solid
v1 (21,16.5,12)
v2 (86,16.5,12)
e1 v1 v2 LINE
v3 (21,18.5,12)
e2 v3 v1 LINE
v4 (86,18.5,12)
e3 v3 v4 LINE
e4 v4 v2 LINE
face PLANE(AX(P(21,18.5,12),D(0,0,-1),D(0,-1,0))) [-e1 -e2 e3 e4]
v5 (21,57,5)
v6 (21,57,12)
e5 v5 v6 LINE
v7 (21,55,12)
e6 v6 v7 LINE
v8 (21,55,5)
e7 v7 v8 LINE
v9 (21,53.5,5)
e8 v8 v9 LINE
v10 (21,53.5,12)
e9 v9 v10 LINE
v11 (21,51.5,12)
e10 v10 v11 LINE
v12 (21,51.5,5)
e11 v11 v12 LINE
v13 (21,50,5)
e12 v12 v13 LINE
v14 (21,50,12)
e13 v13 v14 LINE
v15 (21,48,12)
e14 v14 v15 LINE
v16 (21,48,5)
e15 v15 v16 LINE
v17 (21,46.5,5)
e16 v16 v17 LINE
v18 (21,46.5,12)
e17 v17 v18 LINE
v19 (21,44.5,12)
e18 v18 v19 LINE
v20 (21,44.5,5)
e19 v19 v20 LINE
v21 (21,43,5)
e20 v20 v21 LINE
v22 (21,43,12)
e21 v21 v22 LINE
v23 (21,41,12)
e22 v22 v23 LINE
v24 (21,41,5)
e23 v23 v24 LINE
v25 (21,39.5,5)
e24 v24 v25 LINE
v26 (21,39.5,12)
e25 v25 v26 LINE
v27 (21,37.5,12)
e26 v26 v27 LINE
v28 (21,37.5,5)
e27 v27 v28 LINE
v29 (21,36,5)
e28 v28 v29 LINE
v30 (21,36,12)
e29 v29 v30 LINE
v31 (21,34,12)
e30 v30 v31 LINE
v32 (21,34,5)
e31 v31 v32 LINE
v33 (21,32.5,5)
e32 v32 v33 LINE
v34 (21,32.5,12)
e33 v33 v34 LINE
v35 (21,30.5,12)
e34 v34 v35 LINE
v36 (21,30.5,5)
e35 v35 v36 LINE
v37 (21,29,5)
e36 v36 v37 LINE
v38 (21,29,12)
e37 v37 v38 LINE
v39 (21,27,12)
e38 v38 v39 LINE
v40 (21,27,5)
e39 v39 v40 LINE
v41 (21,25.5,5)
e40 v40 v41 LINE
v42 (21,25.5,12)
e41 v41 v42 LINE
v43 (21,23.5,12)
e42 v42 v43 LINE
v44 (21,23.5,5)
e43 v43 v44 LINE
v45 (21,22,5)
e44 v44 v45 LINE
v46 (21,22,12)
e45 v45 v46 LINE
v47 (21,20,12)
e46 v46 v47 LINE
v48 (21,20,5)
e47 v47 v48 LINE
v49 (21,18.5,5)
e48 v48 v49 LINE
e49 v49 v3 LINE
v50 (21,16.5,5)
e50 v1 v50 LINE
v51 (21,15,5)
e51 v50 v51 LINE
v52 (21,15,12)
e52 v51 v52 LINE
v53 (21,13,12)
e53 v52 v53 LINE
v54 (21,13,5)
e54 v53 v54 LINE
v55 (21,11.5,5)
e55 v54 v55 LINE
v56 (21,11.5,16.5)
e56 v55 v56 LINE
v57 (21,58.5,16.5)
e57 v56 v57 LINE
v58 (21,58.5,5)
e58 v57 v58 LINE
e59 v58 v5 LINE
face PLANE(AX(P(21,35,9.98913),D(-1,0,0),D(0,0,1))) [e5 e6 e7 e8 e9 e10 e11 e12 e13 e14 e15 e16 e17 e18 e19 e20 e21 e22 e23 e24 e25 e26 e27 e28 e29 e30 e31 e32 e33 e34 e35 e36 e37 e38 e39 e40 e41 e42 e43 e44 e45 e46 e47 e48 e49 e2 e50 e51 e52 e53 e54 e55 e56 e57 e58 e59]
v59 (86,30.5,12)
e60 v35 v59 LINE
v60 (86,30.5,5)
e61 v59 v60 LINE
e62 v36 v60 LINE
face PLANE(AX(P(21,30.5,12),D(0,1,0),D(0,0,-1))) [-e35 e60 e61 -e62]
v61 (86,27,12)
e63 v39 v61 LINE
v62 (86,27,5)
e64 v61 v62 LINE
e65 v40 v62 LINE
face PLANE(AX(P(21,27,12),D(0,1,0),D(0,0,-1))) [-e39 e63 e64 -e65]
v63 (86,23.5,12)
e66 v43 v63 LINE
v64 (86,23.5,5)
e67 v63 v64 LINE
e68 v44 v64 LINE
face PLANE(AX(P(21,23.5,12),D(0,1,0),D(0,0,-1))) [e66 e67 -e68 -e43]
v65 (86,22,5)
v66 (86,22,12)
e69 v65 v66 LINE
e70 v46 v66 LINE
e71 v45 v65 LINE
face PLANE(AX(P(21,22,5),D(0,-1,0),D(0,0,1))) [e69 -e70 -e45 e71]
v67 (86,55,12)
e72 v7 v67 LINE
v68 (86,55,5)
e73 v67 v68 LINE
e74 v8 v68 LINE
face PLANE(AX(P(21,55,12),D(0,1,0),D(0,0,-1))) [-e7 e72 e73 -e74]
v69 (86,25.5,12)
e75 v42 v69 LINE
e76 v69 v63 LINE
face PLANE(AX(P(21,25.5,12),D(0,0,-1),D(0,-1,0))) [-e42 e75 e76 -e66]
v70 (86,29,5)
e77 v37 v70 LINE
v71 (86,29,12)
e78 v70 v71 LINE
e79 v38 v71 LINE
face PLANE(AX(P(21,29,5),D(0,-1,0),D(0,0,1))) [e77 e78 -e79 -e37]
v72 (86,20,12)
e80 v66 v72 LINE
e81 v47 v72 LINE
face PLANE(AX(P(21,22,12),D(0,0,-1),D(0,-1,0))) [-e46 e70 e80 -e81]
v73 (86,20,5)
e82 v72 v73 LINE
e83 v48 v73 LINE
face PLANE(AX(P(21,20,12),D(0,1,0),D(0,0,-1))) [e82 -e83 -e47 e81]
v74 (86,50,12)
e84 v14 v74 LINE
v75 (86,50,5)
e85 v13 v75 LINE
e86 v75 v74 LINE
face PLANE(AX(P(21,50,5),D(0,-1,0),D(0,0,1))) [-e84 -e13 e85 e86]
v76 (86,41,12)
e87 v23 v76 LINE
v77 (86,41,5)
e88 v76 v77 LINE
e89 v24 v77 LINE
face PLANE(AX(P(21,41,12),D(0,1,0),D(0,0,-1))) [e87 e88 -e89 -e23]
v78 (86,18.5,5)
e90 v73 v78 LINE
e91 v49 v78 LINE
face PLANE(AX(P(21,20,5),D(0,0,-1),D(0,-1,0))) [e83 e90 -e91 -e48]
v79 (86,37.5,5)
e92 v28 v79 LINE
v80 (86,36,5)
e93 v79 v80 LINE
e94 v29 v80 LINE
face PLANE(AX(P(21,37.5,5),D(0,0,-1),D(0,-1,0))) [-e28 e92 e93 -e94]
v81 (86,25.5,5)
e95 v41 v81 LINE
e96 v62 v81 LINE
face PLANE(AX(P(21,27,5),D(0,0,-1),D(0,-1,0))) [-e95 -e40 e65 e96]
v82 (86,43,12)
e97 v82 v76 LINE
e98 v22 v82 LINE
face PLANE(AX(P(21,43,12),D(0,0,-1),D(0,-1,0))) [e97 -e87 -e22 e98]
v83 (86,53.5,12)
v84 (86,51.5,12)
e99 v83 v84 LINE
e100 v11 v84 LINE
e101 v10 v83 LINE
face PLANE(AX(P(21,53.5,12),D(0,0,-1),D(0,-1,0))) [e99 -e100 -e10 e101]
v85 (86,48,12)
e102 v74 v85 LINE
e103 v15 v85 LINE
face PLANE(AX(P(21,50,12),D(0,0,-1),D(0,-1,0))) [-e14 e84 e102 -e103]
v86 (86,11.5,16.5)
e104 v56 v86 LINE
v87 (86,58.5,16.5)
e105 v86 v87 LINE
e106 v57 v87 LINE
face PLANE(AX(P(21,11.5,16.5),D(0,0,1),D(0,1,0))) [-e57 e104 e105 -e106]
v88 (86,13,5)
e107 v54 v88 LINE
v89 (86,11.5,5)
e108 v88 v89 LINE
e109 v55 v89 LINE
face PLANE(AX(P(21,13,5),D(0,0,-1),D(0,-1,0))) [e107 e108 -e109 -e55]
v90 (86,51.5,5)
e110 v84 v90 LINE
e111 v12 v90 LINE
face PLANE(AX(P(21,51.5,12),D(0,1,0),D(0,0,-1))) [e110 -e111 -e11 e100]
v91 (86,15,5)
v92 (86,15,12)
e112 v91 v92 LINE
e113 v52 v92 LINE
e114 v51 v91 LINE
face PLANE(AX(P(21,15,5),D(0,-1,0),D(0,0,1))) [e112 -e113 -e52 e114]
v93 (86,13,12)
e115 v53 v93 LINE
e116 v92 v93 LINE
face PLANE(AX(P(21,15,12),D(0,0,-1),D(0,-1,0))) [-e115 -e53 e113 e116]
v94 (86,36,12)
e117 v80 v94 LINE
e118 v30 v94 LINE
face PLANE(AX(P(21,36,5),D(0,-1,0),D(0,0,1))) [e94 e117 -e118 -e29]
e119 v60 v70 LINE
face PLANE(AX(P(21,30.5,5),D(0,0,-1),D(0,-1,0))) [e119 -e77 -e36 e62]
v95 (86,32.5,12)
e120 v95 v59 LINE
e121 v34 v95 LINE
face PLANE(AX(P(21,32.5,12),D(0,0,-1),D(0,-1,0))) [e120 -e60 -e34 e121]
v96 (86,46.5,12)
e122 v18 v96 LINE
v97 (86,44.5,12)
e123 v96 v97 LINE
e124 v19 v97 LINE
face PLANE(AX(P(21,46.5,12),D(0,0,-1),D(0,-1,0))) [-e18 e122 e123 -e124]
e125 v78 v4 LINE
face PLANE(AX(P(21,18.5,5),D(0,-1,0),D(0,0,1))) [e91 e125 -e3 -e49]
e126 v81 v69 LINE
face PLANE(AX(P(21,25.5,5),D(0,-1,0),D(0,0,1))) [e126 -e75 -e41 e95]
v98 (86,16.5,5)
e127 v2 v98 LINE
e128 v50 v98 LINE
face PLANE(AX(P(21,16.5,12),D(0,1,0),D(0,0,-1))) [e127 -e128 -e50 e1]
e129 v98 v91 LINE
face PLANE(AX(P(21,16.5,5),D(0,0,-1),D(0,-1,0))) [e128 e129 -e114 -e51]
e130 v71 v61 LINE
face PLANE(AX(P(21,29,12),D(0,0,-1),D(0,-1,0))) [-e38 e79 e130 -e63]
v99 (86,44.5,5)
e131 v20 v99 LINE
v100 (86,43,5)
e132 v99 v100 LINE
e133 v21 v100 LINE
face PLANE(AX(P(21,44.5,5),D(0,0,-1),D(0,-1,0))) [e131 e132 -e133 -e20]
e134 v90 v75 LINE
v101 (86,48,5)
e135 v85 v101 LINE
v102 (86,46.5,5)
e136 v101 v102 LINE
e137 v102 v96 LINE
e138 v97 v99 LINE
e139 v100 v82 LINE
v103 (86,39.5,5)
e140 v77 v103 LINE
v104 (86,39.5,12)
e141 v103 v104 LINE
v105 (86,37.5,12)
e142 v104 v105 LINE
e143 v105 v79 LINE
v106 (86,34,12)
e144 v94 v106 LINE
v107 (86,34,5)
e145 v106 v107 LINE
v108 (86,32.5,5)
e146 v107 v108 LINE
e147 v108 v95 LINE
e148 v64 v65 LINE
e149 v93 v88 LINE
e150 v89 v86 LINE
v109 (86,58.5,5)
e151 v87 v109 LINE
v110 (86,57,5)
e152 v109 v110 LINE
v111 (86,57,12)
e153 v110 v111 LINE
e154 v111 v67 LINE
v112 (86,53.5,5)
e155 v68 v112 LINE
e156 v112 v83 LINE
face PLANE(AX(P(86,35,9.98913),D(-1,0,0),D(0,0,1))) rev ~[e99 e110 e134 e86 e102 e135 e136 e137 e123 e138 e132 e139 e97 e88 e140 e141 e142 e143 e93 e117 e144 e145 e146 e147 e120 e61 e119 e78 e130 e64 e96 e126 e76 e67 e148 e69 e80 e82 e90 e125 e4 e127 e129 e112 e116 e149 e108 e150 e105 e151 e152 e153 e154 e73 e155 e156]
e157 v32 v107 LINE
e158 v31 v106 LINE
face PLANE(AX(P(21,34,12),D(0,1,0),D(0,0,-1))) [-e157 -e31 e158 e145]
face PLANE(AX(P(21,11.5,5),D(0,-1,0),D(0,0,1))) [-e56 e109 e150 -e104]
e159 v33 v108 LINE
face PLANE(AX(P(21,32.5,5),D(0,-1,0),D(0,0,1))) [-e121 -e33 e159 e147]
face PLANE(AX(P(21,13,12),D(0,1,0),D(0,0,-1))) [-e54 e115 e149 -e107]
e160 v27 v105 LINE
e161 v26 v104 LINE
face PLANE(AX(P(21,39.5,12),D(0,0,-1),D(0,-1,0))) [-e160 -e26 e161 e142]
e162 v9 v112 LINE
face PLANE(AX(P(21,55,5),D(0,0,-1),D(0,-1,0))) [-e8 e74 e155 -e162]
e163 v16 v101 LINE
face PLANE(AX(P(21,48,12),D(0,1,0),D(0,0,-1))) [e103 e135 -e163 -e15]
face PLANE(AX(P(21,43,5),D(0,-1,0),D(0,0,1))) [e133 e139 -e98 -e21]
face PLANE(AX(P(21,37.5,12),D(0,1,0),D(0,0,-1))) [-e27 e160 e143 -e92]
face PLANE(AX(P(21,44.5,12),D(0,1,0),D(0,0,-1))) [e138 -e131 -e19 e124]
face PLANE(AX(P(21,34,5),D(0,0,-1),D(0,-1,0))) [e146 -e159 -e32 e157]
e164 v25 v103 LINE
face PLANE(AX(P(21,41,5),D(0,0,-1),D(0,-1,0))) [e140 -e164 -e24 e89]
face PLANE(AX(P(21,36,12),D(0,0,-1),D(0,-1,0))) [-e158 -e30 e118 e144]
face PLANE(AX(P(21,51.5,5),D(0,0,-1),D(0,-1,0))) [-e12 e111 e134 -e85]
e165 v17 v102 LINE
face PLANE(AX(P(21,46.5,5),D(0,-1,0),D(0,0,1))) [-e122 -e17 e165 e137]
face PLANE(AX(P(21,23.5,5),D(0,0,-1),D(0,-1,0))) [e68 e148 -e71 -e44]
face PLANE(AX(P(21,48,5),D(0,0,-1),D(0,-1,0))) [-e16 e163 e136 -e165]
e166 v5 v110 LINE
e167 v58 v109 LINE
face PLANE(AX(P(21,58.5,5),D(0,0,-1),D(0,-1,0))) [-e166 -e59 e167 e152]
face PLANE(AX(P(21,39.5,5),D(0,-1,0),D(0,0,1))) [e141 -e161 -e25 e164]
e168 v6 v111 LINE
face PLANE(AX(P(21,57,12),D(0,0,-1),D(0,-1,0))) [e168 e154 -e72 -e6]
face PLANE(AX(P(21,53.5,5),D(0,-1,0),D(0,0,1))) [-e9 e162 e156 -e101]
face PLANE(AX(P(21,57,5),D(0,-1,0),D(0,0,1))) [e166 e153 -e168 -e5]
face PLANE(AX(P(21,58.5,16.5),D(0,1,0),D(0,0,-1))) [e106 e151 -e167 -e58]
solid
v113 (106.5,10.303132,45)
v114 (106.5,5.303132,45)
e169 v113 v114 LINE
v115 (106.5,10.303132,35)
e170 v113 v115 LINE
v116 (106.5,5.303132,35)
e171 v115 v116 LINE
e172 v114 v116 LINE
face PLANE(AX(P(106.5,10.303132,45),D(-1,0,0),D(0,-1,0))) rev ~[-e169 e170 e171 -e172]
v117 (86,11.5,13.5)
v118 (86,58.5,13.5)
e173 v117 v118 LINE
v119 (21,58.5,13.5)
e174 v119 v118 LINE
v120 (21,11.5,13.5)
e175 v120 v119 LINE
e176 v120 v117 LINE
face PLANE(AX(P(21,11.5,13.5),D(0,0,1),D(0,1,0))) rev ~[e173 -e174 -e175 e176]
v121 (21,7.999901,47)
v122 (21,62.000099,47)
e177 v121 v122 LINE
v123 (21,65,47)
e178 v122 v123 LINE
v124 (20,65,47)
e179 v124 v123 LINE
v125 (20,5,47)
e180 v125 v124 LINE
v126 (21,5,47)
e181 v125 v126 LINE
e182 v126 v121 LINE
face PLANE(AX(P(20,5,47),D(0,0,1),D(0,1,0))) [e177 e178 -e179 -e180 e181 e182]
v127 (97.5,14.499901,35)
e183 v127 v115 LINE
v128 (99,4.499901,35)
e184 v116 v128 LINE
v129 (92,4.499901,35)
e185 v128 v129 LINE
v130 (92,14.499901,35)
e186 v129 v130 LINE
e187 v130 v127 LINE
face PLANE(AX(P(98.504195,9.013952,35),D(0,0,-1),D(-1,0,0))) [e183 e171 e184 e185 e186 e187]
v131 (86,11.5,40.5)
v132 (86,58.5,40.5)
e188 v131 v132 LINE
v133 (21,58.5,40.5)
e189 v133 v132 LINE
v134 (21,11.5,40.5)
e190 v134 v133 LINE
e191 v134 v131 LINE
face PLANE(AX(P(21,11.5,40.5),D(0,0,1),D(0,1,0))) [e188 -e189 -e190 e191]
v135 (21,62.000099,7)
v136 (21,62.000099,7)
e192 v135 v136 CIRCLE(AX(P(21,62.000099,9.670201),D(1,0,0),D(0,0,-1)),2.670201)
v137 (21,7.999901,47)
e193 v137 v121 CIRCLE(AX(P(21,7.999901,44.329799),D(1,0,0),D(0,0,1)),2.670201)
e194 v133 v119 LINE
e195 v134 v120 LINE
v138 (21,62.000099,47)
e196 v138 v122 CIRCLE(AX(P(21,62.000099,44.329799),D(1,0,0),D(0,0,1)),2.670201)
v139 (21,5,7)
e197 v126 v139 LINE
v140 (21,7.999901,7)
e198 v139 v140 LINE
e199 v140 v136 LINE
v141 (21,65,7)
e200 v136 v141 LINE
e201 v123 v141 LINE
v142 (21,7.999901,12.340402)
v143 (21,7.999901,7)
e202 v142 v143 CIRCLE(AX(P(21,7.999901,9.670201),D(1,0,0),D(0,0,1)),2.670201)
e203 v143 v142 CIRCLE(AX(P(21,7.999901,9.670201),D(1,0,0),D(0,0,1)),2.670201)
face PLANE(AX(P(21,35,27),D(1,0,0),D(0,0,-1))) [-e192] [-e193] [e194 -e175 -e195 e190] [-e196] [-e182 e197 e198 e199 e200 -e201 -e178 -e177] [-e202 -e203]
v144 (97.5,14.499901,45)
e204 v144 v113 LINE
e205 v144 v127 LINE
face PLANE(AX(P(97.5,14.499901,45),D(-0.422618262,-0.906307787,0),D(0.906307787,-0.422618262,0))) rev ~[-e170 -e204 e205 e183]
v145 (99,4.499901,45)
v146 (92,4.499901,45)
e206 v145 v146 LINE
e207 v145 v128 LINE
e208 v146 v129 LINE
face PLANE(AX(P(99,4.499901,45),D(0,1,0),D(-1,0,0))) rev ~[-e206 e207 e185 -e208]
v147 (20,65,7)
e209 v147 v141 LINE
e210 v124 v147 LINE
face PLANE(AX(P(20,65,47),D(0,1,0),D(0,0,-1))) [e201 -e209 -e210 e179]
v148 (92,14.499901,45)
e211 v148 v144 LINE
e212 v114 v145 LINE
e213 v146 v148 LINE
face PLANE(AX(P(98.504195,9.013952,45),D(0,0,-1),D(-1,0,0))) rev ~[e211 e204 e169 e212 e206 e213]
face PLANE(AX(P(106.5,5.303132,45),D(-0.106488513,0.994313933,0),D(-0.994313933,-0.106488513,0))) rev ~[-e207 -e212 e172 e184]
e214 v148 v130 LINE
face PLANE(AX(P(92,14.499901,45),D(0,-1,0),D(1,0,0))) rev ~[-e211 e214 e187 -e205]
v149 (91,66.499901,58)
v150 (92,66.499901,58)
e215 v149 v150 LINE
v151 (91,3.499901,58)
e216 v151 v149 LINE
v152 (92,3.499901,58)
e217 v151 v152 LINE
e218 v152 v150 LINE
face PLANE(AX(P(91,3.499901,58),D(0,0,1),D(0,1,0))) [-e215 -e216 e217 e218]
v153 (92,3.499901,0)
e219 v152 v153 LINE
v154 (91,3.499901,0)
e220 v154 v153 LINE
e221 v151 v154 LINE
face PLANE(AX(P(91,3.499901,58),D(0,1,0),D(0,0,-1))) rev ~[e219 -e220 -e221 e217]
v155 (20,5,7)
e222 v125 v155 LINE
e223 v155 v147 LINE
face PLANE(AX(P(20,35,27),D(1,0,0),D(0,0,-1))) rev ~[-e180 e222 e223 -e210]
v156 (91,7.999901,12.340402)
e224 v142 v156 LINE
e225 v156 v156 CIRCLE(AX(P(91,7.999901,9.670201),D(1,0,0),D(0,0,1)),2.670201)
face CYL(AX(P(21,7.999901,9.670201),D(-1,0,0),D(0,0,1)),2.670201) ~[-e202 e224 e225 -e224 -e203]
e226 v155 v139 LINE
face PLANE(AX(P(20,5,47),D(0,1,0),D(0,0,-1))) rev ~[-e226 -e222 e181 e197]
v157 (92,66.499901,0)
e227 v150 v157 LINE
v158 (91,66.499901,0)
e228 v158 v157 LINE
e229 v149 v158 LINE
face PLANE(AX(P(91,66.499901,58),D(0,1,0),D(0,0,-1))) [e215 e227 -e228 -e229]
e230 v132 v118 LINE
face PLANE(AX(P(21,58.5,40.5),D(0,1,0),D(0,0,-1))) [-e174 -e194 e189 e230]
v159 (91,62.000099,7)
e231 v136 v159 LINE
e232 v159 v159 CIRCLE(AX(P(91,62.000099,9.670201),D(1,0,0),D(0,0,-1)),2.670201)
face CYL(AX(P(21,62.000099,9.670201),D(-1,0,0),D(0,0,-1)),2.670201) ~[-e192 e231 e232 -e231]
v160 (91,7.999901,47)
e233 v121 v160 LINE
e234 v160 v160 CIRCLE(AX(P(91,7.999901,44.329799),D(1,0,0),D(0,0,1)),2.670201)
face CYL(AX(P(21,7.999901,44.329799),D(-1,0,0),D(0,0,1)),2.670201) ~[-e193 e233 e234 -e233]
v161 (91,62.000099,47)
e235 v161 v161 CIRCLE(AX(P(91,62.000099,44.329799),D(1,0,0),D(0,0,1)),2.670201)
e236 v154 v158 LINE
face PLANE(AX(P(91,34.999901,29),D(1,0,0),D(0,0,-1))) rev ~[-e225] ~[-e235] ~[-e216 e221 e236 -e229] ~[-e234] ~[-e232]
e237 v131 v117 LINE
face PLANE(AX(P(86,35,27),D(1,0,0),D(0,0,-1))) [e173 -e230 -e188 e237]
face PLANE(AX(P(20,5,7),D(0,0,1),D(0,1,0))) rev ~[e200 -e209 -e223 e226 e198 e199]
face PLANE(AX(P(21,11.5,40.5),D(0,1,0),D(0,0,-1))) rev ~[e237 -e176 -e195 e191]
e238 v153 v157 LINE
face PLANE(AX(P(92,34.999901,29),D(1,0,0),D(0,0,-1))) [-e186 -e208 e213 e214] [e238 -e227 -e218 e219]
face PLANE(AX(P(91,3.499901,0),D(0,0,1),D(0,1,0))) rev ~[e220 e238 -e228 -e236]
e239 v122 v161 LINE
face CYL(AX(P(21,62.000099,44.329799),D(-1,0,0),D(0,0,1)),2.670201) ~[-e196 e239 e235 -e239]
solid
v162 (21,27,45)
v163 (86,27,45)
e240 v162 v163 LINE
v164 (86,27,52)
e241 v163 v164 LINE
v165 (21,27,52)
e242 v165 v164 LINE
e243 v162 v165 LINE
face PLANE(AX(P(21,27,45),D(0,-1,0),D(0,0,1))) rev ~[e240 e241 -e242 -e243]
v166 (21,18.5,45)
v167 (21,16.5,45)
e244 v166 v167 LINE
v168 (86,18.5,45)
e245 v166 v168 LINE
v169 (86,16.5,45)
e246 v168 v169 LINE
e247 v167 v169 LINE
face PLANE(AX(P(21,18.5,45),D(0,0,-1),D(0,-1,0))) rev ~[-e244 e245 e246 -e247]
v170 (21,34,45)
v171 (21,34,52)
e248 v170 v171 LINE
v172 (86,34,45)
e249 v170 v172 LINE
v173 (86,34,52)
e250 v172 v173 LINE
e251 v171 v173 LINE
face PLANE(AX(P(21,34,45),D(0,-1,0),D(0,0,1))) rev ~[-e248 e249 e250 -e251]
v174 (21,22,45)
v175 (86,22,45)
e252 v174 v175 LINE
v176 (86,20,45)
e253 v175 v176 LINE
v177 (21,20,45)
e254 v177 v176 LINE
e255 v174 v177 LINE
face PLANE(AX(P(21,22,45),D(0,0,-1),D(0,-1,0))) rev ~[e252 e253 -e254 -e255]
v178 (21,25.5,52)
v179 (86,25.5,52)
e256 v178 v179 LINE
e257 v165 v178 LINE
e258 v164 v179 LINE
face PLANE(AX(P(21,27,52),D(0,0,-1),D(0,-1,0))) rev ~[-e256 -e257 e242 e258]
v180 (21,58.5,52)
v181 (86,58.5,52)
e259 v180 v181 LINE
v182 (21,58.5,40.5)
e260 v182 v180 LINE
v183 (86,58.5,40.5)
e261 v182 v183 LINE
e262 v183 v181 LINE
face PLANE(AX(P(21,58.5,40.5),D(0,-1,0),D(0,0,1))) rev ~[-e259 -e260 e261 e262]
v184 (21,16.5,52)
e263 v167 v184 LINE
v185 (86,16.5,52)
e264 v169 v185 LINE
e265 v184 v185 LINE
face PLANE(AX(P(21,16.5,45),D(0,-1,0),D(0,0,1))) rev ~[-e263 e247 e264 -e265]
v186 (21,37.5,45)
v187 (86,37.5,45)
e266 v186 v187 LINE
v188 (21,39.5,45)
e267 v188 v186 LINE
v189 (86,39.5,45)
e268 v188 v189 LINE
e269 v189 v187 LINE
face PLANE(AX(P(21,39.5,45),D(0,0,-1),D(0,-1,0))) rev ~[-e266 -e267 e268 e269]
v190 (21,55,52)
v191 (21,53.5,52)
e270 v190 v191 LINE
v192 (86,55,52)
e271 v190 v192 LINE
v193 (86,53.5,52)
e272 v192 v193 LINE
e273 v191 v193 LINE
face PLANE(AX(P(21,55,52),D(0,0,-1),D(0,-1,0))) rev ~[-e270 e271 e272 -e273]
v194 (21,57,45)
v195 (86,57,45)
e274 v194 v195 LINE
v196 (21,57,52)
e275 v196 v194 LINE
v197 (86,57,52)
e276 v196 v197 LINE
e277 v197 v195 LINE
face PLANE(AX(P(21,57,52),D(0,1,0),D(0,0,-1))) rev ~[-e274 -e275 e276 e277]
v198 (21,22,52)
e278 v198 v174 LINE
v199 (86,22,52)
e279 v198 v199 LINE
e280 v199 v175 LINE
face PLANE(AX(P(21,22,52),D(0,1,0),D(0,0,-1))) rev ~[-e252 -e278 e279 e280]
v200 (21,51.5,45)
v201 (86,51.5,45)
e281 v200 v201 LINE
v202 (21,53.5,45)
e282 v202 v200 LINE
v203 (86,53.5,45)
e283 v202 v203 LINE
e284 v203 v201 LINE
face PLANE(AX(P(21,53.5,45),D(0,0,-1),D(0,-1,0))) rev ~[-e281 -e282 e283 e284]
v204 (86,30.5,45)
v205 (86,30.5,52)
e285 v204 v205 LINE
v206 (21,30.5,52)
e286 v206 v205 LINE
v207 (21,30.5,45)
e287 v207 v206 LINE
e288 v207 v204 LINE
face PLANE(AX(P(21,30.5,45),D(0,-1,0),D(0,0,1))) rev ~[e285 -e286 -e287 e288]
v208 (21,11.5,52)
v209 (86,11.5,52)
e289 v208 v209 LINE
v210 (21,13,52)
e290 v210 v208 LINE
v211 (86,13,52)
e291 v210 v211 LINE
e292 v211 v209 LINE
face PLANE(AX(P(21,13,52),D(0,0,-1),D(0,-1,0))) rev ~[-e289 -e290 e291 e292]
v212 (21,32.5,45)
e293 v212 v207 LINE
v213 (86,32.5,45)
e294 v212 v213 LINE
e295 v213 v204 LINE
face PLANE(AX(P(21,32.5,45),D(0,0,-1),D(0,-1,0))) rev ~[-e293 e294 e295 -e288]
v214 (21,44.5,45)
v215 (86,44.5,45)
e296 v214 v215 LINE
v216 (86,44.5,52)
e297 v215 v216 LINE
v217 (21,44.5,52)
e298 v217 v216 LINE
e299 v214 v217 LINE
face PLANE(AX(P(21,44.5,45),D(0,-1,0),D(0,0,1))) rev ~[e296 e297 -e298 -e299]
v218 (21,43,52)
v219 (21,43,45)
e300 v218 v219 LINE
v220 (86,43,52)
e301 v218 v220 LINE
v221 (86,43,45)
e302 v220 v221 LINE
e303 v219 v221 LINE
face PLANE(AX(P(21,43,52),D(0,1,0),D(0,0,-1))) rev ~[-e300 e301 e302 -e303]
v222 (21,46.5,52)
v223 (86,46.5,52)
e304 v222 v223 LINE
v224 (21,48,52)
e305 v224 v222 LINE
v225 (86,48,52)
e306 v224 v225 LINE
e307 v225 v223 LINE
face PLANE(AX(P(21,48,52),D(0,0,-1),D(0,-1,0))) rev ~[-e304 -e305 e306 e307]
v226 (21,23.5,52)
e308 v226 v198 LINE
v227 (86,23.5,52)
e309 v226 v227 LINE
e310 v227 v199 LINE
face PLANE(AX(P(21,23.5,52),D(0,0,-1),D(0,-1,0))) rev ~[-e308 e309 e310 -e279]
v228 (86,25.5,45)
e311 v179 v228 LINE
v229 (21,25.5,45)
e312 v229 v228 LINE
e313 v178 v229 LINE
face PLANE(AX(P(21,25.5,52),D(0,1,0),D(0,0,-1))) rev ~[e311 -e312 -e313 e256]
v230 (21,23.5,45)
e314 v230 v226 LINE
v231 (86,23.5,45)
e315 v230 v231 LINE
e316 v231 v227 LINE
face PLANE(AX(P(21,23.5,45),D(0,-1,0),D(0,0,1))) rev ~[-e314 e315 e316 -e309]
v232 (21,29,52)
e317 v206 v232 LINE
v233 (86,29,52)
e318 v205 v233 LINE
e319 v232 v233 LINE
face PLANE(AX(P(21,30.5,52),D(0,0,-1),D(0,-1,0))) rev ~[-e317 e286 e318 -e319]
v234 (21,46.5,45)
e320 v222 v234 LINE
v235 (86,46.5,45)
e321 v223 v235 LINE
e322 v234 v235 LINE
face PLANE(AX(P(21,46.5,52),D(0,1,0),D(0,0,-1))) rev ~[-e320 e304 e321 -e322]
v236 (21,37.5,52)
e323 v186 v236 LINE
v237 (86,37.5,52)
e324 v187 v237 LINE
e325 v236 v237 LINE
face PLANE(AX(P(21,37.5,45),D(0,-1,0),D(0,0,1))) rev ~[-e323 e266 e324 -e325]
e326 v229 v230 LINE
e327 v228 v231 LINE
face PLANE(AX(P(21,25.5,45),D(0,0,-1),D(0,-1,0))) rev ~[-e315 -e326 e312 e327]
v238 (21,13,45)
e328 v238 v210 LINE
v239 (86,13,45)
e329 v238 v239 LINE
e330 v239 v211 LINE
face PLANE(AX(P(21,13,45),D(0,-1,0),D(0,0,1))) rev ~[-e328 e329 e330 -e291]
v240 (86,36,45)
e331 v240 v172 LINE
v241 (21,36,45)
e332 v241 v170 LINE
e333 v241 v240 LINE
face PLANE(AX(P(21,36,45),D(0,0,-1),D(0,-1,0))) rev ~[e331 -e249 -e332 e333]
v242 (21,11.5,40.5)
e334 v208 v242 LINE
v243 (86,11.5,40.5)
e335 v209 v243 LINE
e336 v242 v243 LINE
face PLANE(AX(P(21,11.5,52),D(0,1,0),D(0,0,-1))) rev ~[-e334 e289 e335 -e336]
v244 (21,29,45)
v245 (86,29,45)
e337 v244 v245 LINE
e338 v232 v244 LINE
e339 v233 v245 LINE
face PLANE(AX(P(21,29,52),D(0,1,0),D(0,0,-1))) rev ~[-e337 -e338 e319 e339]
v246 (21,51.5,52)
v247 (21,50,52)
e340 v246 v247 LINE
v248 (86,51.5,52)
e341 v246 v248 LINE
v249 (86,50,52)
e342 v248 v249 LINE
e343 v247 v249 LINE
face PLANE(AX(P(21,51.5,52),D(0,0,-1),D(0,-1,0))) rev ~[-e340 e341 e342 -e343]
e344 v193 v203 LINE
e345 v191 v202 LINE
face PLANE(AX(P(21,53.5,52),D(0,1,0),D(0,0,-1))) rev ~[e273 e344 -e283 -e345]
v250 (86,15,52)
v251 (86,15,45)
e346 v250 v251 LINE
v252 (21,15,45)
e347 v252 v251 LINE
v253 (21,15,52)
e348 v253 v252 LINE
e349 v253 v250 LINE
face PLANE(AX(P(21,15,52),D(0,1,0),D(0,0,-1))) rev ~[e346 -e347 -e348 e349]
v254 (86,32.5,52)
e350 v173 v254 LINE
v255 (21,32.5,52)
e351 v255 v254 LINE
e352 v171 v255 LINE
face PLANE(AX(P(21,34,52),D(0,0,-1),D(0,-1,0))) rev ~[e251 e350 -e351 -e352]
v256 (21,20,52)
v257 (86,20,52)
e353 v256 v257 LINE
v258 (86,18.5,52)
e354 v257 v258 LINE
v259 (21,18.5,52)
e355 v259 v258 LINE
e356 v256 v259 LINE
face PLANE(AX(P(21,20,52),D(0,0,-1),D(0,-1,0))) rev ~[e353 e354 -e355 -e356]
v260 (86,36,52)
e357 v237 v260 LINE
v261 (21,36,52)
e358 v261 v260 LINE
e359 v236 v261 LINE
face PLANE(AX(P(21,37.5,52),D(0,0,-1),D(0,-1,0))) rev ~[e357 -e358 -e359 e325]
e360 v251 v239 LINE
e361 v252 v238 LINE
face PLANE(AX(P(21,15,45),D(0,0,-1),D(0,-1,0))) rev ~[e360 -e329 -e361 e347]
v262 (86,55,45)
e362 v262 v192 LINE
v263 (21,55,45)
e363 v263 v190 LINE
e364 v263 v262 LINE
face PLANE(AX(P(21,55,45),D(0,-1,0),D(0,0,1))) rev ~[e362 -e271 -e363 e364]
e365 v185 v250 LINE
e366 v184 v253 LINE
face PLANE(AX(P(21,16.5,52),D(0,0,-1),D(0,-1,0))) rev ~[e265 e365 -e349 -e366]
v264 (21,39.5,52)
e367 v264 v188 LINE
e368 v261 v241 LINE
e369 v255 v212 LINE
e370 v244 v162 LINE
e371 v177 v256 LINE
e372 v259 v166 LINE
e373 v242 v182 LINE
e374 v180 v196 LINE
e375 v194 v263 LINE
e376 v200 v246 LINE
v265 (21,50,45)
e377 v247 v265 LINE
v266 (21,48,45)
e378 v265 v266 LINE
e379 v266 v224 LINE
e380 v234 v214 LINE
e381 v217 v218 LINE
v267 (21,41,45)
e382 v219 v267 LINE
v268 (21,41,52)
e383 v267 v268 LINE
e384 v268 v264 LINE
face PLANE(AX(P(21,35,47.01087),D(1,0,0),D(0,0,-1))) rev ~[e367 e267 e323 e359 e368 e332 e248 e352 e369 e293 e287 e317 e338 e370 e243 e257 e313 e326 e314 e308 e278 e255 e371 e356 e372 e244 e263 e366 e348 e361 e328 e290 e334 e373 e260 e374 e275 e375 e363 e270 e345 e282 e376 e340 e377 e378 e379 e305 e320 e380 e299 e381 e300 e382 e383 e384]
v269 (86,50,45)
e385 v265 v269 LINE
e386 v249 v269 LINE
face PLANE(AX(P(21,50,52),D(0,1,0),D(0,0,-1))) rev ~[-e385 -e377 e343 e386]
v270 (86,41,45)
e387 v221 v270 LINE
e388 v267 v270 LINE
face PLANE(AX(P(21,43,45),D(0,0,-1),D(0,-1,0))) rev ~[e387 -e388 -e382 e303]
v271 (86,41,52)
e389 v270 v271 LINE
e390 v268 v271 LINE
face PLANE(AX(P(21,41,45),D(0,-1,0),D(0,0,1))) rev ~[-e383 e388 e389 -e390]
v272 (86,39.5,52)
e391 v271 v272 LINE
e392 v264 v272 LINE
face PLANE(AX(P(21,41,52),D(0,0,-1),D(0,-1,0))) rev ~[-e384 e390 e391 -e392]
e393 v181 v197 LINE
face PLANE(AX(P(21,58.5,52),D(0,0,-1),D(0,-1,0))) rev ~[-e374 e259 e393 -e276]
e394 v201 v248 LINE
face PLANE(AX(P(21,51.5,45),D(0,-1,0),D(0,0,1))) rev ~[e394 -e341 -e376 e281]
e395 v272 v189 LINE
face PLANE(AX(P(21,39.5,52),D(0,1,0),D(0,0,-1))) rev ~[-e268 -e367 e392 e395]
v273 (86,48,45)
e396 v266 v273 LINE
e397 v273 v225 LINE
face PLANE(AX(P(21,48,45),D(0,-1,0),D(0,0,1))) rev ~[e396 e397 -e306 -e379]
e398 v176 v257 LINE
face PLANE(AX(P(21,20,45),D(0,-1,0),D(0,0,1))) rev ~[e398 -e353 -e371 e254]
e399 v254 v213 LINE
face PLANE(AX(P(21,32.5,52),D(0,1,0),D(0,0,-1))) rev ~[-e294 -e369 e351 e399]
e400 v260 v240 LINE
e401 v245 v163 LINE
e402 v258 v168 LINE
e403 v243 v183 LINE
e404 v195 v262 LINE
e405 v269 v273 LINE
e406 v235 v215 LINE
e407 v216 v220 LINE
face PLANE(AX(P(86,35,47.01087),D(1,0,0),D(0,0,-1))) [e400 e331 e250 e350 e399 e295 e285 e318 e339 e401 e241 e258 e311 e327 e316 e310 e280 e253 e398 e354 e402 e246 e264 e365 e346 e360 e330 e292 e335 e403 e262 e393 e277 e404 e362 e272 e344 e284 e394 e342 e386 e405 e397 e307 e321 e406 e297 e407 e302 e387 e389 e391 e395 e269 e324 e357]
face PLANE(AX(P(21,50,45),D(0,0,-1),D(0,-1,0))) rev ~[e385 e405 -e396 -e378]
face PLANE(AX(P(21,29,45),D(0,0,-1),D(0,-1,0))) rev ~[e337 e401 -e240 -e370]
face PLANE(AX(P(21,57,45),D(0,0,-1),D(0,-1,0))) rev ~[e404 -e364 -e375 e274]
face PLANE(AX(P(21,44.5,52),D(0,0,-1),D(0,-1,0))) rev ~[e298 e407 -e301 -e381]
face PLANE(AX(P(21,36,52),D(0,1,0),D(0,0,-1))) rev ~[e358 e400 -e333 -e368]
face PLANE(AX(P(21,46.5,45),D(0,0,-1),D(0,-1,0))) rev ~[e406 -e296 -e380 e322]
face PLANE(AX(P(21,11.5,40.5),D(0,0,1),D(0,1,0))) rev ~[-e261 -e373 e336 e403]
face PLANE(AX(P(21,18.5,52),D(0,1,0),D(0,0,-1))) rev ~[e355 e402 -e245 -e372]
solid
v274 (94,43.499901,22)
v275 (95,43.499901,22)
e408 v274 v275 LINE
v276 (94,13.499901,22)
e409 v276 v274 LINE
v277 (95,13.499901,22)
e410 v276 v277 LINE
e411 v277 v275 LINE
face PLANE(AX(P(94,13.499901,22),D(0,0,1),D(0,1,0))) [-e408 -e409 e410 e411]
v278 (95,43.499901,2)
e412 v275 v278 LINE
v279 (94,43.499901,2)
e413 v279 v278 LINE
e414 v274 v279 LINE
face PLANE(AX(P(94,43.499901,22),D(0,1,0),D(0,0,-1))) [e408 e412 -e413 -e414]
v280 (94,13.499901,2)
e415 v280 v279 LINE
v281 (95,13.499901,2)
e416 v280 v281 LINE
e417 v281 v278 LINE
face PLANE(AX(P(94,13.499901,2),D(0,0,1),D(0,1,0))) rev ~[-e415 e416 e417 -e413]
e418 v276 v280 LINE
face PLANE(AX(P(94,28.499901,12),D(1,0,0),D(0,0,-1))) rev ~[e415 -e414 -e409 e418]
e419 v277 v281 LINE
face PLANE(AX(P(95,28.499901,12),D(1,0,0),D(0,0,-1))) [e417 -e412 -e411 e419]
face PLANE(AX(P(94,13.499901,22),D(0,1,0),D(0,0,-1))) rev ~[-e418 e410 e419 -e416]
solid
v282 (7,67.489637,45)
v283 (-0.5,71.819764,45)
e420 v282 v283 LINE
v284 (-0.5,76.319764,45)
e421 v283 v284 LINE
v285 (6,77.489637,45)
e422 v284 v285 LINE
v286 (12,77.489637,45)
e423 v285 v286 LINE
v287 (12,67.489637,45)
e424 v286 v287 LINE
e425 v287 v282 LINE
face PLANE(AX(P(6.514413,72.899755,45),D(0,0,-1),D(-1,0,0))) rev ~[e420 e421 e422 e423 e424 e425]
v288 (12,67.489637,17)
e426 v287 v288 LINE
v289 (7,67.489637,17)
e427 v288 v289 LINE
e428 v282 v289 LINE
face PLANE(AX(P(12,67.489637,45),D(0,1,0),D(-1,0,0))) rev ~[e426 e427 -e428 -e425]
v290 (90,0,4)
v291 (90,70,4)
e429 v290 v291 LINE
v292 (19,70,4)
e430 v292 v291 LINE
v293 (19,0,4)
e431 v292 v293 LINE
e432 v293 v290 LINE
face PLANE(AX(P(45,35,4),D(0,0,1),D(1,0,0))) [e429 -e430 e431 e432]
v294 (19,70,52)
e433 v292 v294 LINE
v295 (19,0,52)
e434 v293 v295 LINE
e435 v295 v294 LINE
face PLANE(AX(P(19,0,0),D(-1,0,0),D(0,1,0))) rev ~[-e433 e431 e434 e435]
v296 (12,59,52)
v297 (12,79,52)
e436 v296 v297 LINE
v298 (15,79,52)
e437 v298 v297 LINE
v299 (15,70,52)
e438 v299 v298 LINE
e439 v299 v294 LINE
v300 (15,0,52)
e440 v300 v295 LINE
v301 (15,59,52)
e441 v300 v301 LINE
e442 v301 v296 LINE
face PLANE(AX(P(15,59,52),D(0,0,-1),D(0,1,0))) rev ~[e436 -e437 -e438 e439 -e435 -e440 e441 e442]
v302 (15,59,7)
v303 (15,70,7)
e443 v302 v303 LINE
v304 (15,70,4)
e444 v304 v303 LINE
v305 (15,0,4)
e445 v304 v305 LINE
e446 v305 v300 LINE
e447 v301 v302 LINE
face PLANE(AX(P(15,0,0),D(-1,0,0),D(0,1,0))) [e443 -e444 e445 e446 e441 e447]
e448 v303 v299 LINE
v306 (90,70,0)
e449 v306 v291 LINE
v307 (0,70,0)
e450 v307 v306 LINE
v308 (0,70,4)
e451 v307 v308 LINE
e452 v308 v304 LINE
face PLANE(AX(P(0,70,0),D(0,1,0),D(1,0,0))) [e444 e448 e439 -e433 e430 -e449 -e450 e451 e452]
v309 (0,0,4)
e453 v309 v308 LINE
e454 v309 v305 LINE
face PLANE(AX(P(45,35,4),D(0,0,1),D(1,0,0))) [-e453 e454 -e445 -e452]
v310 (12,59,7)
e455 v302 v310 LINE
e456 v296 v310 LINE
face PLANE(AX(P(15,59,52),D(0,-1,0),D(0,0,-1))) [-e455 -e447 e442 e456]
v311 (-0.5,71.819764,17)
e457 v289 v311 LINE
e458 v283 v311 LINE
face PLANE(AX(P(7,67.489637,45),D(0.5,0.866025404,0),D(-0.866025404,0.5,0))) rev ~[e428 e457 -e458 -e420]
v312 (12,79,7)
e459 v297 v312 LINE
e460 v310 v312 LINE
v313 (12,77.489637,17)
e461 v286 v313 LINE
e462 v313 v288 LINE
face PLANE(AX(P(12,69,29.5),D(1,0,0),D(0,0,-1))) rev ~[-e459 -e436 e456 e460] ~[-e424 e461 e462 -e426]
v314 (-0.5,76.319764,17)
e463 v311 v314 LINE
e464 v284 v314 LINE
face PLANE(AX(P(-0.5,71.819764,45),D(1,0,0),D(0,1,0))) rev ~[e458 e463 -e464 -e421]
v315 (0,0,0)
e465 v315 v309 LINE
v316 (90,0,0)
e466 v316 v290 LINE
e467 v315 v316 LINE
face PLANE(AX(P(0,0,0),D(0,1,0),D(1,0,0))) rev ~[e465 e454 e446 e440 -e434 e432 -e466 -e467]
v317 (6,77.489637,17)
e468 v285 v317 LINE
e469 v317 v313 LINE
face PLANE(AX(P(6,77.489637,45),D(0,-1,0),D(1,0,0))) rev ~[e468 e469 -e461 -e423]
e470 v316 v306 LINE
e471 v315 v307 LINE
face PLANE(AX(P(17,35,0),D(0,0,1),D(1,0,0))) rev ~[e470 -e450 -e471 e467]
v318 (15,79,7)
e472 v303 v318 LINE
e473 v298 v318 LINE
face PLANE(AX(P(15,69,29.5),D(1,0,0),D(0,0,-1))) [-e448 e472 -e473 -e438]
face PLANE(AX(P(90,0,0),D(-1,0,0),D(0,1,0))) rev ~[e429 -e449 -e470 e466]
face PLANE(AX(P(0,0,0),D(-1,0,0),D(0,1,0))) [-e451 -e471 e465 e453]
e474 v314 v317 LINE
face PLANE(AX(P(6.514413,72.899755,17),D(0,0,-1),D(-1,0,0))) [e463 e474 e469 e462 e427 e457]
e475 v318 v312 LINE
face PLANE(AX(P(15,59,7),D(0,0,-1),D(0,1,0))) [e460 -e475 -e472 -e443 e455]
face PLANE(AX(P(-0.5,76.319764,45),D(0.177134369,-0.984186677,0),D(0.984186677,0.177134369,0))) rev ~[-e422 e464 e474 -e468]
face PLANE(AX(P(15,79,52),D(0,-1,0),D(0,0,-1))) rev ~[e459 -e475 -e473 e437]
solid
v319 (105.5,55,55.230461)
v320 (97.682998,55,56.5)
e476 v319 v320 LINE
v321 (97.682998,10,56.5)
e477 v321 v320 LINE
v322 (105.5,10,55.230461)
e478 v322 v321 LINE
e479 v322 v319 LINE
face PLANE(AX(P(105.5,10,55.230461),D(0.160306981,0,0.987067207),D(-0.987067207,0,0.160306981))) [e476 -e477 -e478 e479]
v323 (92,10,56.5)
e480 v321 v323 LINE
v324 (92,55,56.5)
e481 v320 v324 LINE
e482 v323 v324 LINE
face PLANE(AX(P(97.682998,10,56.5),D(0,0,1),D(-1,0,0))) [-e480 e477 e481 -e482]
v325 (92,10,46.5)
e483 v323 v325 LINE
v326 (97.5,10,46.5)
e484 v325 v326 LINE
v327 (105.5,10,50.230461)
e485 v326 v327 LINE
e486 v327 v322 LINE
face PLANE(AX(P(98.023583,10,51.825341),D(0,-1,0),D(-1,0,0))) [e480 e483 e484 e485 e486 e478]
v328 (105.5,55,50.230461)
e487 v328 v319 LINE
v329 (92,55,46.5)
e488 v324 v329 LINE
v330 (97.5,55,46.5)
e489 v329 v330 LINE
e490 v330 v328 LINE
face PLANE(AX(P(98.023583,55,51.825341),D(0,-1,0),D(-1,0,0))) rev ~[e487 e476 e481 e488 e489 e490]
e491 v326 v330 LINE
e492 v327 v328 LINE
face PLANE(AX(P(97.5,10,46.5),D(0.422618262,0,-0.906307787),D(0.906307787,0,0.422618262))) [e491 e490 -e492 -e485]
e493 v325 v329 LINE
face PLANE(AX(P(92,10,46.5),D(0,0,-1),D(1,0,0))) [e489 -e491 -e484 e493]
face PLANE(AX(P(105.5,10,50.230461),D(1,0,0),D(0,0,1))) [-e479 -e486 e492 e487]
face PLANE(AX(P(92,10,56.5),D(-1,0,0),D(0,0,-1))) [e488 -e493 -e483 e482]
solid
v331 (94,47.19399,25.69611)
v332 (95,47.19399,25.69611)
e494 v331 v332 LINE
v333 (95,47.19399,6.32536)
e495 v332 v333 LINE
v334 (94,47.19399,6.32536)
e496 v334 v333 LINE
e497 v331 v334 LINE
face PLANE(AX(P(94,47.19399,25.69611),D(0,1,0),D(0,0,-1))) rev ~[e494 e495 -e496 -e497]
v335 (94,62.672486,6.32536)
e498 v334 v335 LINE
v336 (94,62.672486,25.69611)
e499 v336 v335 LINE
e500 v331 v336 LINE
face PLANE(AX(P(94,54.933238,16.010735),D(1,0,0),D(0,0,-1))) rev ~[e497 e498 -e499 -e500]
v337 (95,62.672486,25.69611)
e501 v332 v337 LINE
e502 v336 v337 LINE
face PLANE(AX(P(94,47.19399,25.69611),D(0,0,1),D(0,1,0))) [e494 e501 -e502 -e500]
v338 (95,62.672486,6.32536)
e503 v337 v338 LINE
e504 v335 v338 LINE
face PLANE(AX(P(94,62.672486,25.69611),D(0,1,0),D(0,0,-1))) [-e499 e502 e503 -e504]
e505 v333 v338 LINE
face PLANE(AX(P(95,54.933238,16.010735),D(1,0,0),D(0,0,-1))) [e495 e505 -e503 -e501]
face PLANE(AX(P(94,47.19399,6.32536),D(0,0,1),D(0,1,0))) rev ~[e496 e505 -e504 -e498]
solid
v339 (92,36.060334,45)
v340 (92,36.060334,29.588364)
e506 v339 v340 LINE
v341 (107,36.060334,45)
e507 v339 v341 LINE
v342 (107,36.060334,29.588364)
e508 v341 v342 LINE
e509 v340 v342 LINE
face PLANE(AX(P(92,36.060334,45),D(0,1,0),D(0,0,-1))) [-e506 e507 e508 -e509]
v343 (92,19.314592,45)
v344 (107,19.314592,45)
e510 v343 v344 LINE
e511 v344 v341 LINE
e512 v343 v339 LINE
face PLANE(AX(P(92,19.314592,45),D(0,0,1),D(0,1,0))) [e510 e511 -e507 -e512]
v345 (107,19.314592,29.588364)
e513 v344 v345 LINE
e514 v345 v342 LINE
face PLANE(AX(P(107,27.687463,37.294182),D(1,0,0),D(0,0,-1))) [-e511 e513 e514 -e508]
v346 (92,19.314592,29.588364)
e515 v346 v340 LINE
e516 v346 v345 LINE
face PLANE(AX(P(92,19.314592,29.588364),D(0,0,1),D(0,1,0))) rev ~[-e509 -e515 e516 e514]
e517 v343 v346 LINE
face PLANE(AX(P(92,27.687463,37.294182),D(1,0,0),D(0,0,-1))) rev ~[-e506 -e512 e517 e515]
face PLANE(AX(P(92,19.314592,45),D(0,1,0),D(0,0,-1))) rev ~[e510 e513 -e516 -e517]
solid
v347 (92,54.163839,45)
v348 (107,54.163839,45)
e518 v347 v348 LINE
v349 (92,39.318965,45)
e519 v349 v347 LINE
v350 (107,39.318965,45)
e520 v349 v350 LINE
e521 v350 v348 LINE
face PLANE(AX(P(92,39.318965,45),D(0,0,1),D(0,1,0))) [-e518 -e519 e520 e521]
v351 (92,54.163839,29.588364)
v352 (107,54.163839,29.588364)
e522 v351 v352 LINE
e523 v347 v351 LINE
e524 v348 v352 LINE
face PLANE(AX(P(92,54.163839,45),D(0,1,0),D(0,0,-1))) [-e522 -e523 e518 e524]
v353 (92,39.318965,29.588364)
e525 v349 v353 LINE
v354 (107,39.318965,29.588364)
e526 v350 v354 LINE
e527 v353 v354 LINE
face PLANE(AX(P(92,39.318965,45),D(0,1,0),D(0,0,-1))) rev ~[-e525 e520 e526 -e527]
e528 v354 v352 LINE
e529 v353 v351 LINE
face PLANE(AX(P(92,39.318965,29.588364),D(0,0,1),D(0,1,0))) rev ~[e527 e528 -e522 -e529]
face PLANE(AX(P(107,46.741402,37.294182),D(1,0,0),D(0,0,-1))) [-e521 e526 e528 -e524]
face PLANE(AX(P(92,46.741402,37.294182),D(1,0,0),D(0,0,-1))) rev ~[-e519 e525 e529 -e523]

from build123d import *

# Parameters (mm, degrees)
SKETCH2_W              = 90
SKETCH2_H              = 70
BOSS_EXTRUDE1_DEPTH    = 4
SKETCH3_W              = 4
SKETCH3_H              = 70
BOSS_EXTRUDE2_DEPTH    = 52
SKETCH4_W              = 45
SKETCH4_H              = 20
BOSS_EXTRUDE3_DEPTH    = 3
BOSS_EXTRUDE4_DEPTH    = 28
SKETCH6_W              = 40
SKETCH6_H              = 60
BOSS_EXTRUDE5_DEPTH    = 1
SKETCH7_R              = 2.670201232
BOSS_EXTRUDE6_DEPTH    = 70
SKETCH8_W              = 27
SKETCH8_H              = 47
BOSS_EXTRUDE7_DEPTH    = 65
BOSS_EXTRUDE8_DEPTH    = 65
BOSS_EXTRUDE8_2_DEPTH  = 65
SKETCH11_W             = 58
SKETCH11_H             = 63
BOSS_EXTRUDE9_DEPTH    = 1
BOSS_EXTRUDE10_DEPTH   = 45
SKETCH14_W             = 15.411636089
SKETCH14_H             = 14.844874065
BOSS_EXTRUDE11_DEPTH   = 15
SKETCH14_H_2           = 16.745742084
BOSS_EXTRUDE11_2_DEPTH = 15
BOSS_EXTRUDE12_DEPTH   = 10
SKETCH16_W             = 20
SKETCH16_H             = 30
BOSS_EXTRUDE13_DEPTH   = 1
SKETCH18_W             = 19.370750303
SKETCH18_H             = 15.478496738
BOSS_EXTRUDE14_DEPTH   = 1


with BuildPart() as part:
    # Sketch2 → Boss-Extrude1 (new body)
    with BuildSketch(Plane.XY):
        with Locations((45, 35)):
            Rectangle(SKETCH2_W, SKETCH2_H)
    extrude(amount=BOSS_EXTRUDE1_DEPTH)

    # Sketch3 → Boss-Extrude2 (add)
    with BuildSketch(Plane.XY):
        with Locations((17, 35)):
            Rectangle(SKETCH3_W, SKETCH3_H)
    extrude(amount=BOSS_EXTRUDE2_DEPTH)



with BuildPart() as body_2:
    # Sketch4 → Boss-Extrude3 (new body)
    with BuildSketch(Plane(origin=(15, 0, 0), x_dir=(0, 0, -1), z_dir=(1, 0, 0))):
        with Locations((-29.5, 69)):
            Rectangle(SKETCH4_W, SKETCH4_H)
    extrude(amount=-BOSS_EXTRUDE3_DEPTH)


with BuildPart() as part_1:
    add(part.part)

    add(body_2.part)  # Boss-Extrude4 merges body 2
    # Sketch5 → Boss-Extrude4 (add)
    with BuildSketch(Plane.XY.offset(45)):
        Polygon((12, 77.489636969), (12, 67.489636969), (7, 67.489636969), (-0.5, 71.819763988), (-0.5, 76.319763988), (6, 77.489636969), align=None)
    extrude(amount=-BOSS_EXTRUDE4_DEPTH)


with BuildPart() as body_2_2:
    # Sketch6 → Boss-Extrude5 (new body)
    with BuildSketch(Plane(origin=(20, 0, 0), x_dir=(0, 0, -1), z_dir=(1, 0, 0))):
        with Locations((-27, 35)):
            Rectangle(SKETCH6_W, SKETCH6_H)
    extrude(amount=BOSS_EXTRUDE5_DEPTH)

    # Sketch7 → Boss-Extrude6 (add)
    with BuildSketch(Plane(origin=(21, 0, 0), x_dir=(0, 0, -1), z_dir=(1, 0, 0))):
        with Locations(Location((-44.329798768, 7.999901376, 0), (0, 0, 180))):
            Circle(SKETCH7_R)
        with Locations(Location((-44.329798768, 62.000098624, 0), (0, 0, 180))):
            Circle(SKETCH7_R)
        with Locations((-9.670201232, 62.000098624)):
            Circle(SKETCH7_R)
        with Locations(Location((-9.670201232, 7.999901376, 0), (0, 0, 180))):
            Circle(SKETCH7_R)
    extrude(amount=BOSS_EXTRUDE6_DEPTH)

    # Sketch8 → Boss-Extrude7 (add)
    with BuildSketch(Plane(origin=(21, 0, 0), x_dir=(0, 0, -1), z_dir=(1, 0, 0))):
        with Locations((-27, 35)):
            Rectangle(SKETCH8_W, SKETCH8_H)
    extrude(amount=BOSS_EXTRUDE7_DEPTH)

    # Sketch11 → Boss-Extrude9 (add)
    with BuildSketch(Plane(origin=(91, 0, 0), x_dir=(0, 0, -1), z_dir=(1, 0, 0))):
        with Locations((-29, 34.999901376)):
            Rectangle(SKETCH11_W, SKETCH11_H)
    extrude(amount=BOSS_EXTRUDE9_DEPTH)

    # Sketch15 → Boss-Extrude12 (add)
    with BuildSketch(Plane.XY.offset(45)):
        Polygon((92, 4.499901376), (92, 14.499901376), (97.5, 14.499901376), (106.5, 10.303132453), (106.5, 5.303132453), (99, 4.499901376), align=None)
    extrude(amount=-BOSS_EXTRUDE12_DEPTH)


with BuildPart() as body_3:
    # Sketch10 → Boss-Extrude8 (new body)
    with BuildSketch(Plane(origin=(21, 0, 0), x_dir=(0, 0, -1), z_dir=(1, 0, 0))):
        Polygon((-45, 16.5), (-52, 16.5), (-52, 15), (-45, 15), (-45, 13), (-52, 13), (-52, 11.5), (-40.5, 11.5), (-40.5, 58.5), (-52, 58.5), (-52, 57), (-45, 57), (-45, 55), (-52, 55), (-52, 53.5), (-45, 53.5), (-45, 51.5), (-52, 51.5), (-52, 50), (-45, 50), (-45, 48), (-52, 48), (-52, 46.5), (-45, 46.5), (-45, 44.5), (-52, 44.5), (-52, 43), (-45, 43), (-45, 41), (-52, 41), (-52, 39.5), (-45, 39.5), (-45, 37.5), (-52, 37.5), (-52, 36), (-45, 36), (-45, 34), (-52, 34), (-52, 32.5), (-45, 32.5), (-45, 30.5), (-52, 30.5), (-52, 29), (-45, 29), (-45, 27), (-52, 27), (-52, 25.5), (-45, 25.5), (-45, 23.5), (-52, 23.5), (-52, 22), (-45, 22), (-45, 20), (-52, 20), (-52, 18.5), (-45, 18.5), align=None)
    extrude(amount=BOSS_EXTRUDE8_DEPTH)


with BuildPart() as body_4:
    # Sketch10 → Boss-Extrude8 2 (new body)
    with BuildSketch(Plane(origin=(21, 0, 0), x_dir=(0, 0, -1), z_dir=(1, 0, 0))):
        Polygon((-16.5, 11.5), (-16.5, 58.5), (-5, 58.5), (-5, 57), (-12, 57), (-12, 55), (-5, 55), (-5, 53.5), (-12, 53.5), (-12, 51.5), (-5, 51.5), (-5, 50), (-12, 50), (-12, 48), (-5, 48), (-5, 46.5), (-12, 46.5), (-12, 44.5), (-5, 44.5), (-5, 43), (-12, 43), (-12, 41), (-5, 41), (-5, 39.5), (-12, 39.5), (-12, 37.5), (-5, 37.5), (-5, 36), (-12, 36), (-12, 34), (-5, 34), (-5, 32.5), (-12, 32.5), (-12, 30.5), (-5, 30.5), (-5, 29), (-12, 29), (-12, 27), (-5, 27), (-5, 25.5), (-12, 25.5), (-12, 23.5), (-5, 23.5), (-5, 22), (-12, 22), (-12, 20), (-5, 20), (-5, 18.5), (-12, 18.5), (-12, 16.5), (-5, 16.5), (-5, 15), (-12, 15), (-12, 13), (-5, 13), (-5, 11.5), align=None)
    extrude(amount=BOSS_EXTRUDE8_2_DEPTH)


with BuildPart() as body_5:
    # Sketch13 → Boss-Extrude10 (new body)
    with BuildSketch(Plane(origin=(0, 10, 0), x_dir=(1, 0, 0), z_dir=(0, 1, 0))):
        Polygon((92, -56.5), (92, -46.5), (97.5, -46.5), (105.5, -50.230461265), (105.5, -55.230461265), (97.682997604, -56.5), align=None)
    extrude(amount=BOSS_EXTRUDE10_DEPTH)


with BuildPart() as body_6:
    # Sketch14 → Boss-Extrude11 (new body)
    with BuildSketch(Plane(origin=(92, 0, 0), x_dir=(0, 0, -1), z_dir=(1, 0, 0))):
        with Locations((-37.294181956, 46.741401983)):
            Rectangle(SKETCH14_W, SKETCH14_H)
    extrude(amount=BOSS_EXTRUDE11_DEPTH)


with BuildPart() as body_7:
    # Sketch14 → Boss-Extrude11 2 (new body)
    with BuildSketch(Plane(origin=(92, 0, 0), x_dir=(0, 0, -1), z_dir=(1, 0, 0))):
        with Locations((-37.294181956, 27.687463016)):
            Rectangle(SKETCH14_W, SKETCH14_H_2)
    extrude(amount=BOSS_EXTRUDE11_2_DEPTH)


with BuildPart() as body_8:
    # Sketch16 → Boss-Extrude13 (new body)
    with BuildSketch(Plane(origin=(94, 0, 0), x_dir=(0, 0, -1), z_dir=(1, 0, 0))):
        with Locations((-12, 28.499901376)):
            Rectangle(SKETCH16_W, SKETCH16_H)
    extrude(amount=BOSS_EXTRUDE13_DEPTH)


with BuildPart() as body_9:
    # Sketch18 → Boss-Extrude14 (new body)
    with BuildSketch(Plane(origin=(94, 0, 0), x_dir=(0, 0, -1), z_dir=(1, 0, 0))):
        with Locations((-16.010735194, 54.933237975)):
            Rectangle(SKETCH18_W, SKETCH18_H)
    extrude(amount=BOSS_EXTRUDE14_DEPTH)


solid = Compound([part_1.part, body_2_2.part, body_3.part, body_4.part, body_5.part, body_6.part, body_7.part, body_8.part, body_9.part])
